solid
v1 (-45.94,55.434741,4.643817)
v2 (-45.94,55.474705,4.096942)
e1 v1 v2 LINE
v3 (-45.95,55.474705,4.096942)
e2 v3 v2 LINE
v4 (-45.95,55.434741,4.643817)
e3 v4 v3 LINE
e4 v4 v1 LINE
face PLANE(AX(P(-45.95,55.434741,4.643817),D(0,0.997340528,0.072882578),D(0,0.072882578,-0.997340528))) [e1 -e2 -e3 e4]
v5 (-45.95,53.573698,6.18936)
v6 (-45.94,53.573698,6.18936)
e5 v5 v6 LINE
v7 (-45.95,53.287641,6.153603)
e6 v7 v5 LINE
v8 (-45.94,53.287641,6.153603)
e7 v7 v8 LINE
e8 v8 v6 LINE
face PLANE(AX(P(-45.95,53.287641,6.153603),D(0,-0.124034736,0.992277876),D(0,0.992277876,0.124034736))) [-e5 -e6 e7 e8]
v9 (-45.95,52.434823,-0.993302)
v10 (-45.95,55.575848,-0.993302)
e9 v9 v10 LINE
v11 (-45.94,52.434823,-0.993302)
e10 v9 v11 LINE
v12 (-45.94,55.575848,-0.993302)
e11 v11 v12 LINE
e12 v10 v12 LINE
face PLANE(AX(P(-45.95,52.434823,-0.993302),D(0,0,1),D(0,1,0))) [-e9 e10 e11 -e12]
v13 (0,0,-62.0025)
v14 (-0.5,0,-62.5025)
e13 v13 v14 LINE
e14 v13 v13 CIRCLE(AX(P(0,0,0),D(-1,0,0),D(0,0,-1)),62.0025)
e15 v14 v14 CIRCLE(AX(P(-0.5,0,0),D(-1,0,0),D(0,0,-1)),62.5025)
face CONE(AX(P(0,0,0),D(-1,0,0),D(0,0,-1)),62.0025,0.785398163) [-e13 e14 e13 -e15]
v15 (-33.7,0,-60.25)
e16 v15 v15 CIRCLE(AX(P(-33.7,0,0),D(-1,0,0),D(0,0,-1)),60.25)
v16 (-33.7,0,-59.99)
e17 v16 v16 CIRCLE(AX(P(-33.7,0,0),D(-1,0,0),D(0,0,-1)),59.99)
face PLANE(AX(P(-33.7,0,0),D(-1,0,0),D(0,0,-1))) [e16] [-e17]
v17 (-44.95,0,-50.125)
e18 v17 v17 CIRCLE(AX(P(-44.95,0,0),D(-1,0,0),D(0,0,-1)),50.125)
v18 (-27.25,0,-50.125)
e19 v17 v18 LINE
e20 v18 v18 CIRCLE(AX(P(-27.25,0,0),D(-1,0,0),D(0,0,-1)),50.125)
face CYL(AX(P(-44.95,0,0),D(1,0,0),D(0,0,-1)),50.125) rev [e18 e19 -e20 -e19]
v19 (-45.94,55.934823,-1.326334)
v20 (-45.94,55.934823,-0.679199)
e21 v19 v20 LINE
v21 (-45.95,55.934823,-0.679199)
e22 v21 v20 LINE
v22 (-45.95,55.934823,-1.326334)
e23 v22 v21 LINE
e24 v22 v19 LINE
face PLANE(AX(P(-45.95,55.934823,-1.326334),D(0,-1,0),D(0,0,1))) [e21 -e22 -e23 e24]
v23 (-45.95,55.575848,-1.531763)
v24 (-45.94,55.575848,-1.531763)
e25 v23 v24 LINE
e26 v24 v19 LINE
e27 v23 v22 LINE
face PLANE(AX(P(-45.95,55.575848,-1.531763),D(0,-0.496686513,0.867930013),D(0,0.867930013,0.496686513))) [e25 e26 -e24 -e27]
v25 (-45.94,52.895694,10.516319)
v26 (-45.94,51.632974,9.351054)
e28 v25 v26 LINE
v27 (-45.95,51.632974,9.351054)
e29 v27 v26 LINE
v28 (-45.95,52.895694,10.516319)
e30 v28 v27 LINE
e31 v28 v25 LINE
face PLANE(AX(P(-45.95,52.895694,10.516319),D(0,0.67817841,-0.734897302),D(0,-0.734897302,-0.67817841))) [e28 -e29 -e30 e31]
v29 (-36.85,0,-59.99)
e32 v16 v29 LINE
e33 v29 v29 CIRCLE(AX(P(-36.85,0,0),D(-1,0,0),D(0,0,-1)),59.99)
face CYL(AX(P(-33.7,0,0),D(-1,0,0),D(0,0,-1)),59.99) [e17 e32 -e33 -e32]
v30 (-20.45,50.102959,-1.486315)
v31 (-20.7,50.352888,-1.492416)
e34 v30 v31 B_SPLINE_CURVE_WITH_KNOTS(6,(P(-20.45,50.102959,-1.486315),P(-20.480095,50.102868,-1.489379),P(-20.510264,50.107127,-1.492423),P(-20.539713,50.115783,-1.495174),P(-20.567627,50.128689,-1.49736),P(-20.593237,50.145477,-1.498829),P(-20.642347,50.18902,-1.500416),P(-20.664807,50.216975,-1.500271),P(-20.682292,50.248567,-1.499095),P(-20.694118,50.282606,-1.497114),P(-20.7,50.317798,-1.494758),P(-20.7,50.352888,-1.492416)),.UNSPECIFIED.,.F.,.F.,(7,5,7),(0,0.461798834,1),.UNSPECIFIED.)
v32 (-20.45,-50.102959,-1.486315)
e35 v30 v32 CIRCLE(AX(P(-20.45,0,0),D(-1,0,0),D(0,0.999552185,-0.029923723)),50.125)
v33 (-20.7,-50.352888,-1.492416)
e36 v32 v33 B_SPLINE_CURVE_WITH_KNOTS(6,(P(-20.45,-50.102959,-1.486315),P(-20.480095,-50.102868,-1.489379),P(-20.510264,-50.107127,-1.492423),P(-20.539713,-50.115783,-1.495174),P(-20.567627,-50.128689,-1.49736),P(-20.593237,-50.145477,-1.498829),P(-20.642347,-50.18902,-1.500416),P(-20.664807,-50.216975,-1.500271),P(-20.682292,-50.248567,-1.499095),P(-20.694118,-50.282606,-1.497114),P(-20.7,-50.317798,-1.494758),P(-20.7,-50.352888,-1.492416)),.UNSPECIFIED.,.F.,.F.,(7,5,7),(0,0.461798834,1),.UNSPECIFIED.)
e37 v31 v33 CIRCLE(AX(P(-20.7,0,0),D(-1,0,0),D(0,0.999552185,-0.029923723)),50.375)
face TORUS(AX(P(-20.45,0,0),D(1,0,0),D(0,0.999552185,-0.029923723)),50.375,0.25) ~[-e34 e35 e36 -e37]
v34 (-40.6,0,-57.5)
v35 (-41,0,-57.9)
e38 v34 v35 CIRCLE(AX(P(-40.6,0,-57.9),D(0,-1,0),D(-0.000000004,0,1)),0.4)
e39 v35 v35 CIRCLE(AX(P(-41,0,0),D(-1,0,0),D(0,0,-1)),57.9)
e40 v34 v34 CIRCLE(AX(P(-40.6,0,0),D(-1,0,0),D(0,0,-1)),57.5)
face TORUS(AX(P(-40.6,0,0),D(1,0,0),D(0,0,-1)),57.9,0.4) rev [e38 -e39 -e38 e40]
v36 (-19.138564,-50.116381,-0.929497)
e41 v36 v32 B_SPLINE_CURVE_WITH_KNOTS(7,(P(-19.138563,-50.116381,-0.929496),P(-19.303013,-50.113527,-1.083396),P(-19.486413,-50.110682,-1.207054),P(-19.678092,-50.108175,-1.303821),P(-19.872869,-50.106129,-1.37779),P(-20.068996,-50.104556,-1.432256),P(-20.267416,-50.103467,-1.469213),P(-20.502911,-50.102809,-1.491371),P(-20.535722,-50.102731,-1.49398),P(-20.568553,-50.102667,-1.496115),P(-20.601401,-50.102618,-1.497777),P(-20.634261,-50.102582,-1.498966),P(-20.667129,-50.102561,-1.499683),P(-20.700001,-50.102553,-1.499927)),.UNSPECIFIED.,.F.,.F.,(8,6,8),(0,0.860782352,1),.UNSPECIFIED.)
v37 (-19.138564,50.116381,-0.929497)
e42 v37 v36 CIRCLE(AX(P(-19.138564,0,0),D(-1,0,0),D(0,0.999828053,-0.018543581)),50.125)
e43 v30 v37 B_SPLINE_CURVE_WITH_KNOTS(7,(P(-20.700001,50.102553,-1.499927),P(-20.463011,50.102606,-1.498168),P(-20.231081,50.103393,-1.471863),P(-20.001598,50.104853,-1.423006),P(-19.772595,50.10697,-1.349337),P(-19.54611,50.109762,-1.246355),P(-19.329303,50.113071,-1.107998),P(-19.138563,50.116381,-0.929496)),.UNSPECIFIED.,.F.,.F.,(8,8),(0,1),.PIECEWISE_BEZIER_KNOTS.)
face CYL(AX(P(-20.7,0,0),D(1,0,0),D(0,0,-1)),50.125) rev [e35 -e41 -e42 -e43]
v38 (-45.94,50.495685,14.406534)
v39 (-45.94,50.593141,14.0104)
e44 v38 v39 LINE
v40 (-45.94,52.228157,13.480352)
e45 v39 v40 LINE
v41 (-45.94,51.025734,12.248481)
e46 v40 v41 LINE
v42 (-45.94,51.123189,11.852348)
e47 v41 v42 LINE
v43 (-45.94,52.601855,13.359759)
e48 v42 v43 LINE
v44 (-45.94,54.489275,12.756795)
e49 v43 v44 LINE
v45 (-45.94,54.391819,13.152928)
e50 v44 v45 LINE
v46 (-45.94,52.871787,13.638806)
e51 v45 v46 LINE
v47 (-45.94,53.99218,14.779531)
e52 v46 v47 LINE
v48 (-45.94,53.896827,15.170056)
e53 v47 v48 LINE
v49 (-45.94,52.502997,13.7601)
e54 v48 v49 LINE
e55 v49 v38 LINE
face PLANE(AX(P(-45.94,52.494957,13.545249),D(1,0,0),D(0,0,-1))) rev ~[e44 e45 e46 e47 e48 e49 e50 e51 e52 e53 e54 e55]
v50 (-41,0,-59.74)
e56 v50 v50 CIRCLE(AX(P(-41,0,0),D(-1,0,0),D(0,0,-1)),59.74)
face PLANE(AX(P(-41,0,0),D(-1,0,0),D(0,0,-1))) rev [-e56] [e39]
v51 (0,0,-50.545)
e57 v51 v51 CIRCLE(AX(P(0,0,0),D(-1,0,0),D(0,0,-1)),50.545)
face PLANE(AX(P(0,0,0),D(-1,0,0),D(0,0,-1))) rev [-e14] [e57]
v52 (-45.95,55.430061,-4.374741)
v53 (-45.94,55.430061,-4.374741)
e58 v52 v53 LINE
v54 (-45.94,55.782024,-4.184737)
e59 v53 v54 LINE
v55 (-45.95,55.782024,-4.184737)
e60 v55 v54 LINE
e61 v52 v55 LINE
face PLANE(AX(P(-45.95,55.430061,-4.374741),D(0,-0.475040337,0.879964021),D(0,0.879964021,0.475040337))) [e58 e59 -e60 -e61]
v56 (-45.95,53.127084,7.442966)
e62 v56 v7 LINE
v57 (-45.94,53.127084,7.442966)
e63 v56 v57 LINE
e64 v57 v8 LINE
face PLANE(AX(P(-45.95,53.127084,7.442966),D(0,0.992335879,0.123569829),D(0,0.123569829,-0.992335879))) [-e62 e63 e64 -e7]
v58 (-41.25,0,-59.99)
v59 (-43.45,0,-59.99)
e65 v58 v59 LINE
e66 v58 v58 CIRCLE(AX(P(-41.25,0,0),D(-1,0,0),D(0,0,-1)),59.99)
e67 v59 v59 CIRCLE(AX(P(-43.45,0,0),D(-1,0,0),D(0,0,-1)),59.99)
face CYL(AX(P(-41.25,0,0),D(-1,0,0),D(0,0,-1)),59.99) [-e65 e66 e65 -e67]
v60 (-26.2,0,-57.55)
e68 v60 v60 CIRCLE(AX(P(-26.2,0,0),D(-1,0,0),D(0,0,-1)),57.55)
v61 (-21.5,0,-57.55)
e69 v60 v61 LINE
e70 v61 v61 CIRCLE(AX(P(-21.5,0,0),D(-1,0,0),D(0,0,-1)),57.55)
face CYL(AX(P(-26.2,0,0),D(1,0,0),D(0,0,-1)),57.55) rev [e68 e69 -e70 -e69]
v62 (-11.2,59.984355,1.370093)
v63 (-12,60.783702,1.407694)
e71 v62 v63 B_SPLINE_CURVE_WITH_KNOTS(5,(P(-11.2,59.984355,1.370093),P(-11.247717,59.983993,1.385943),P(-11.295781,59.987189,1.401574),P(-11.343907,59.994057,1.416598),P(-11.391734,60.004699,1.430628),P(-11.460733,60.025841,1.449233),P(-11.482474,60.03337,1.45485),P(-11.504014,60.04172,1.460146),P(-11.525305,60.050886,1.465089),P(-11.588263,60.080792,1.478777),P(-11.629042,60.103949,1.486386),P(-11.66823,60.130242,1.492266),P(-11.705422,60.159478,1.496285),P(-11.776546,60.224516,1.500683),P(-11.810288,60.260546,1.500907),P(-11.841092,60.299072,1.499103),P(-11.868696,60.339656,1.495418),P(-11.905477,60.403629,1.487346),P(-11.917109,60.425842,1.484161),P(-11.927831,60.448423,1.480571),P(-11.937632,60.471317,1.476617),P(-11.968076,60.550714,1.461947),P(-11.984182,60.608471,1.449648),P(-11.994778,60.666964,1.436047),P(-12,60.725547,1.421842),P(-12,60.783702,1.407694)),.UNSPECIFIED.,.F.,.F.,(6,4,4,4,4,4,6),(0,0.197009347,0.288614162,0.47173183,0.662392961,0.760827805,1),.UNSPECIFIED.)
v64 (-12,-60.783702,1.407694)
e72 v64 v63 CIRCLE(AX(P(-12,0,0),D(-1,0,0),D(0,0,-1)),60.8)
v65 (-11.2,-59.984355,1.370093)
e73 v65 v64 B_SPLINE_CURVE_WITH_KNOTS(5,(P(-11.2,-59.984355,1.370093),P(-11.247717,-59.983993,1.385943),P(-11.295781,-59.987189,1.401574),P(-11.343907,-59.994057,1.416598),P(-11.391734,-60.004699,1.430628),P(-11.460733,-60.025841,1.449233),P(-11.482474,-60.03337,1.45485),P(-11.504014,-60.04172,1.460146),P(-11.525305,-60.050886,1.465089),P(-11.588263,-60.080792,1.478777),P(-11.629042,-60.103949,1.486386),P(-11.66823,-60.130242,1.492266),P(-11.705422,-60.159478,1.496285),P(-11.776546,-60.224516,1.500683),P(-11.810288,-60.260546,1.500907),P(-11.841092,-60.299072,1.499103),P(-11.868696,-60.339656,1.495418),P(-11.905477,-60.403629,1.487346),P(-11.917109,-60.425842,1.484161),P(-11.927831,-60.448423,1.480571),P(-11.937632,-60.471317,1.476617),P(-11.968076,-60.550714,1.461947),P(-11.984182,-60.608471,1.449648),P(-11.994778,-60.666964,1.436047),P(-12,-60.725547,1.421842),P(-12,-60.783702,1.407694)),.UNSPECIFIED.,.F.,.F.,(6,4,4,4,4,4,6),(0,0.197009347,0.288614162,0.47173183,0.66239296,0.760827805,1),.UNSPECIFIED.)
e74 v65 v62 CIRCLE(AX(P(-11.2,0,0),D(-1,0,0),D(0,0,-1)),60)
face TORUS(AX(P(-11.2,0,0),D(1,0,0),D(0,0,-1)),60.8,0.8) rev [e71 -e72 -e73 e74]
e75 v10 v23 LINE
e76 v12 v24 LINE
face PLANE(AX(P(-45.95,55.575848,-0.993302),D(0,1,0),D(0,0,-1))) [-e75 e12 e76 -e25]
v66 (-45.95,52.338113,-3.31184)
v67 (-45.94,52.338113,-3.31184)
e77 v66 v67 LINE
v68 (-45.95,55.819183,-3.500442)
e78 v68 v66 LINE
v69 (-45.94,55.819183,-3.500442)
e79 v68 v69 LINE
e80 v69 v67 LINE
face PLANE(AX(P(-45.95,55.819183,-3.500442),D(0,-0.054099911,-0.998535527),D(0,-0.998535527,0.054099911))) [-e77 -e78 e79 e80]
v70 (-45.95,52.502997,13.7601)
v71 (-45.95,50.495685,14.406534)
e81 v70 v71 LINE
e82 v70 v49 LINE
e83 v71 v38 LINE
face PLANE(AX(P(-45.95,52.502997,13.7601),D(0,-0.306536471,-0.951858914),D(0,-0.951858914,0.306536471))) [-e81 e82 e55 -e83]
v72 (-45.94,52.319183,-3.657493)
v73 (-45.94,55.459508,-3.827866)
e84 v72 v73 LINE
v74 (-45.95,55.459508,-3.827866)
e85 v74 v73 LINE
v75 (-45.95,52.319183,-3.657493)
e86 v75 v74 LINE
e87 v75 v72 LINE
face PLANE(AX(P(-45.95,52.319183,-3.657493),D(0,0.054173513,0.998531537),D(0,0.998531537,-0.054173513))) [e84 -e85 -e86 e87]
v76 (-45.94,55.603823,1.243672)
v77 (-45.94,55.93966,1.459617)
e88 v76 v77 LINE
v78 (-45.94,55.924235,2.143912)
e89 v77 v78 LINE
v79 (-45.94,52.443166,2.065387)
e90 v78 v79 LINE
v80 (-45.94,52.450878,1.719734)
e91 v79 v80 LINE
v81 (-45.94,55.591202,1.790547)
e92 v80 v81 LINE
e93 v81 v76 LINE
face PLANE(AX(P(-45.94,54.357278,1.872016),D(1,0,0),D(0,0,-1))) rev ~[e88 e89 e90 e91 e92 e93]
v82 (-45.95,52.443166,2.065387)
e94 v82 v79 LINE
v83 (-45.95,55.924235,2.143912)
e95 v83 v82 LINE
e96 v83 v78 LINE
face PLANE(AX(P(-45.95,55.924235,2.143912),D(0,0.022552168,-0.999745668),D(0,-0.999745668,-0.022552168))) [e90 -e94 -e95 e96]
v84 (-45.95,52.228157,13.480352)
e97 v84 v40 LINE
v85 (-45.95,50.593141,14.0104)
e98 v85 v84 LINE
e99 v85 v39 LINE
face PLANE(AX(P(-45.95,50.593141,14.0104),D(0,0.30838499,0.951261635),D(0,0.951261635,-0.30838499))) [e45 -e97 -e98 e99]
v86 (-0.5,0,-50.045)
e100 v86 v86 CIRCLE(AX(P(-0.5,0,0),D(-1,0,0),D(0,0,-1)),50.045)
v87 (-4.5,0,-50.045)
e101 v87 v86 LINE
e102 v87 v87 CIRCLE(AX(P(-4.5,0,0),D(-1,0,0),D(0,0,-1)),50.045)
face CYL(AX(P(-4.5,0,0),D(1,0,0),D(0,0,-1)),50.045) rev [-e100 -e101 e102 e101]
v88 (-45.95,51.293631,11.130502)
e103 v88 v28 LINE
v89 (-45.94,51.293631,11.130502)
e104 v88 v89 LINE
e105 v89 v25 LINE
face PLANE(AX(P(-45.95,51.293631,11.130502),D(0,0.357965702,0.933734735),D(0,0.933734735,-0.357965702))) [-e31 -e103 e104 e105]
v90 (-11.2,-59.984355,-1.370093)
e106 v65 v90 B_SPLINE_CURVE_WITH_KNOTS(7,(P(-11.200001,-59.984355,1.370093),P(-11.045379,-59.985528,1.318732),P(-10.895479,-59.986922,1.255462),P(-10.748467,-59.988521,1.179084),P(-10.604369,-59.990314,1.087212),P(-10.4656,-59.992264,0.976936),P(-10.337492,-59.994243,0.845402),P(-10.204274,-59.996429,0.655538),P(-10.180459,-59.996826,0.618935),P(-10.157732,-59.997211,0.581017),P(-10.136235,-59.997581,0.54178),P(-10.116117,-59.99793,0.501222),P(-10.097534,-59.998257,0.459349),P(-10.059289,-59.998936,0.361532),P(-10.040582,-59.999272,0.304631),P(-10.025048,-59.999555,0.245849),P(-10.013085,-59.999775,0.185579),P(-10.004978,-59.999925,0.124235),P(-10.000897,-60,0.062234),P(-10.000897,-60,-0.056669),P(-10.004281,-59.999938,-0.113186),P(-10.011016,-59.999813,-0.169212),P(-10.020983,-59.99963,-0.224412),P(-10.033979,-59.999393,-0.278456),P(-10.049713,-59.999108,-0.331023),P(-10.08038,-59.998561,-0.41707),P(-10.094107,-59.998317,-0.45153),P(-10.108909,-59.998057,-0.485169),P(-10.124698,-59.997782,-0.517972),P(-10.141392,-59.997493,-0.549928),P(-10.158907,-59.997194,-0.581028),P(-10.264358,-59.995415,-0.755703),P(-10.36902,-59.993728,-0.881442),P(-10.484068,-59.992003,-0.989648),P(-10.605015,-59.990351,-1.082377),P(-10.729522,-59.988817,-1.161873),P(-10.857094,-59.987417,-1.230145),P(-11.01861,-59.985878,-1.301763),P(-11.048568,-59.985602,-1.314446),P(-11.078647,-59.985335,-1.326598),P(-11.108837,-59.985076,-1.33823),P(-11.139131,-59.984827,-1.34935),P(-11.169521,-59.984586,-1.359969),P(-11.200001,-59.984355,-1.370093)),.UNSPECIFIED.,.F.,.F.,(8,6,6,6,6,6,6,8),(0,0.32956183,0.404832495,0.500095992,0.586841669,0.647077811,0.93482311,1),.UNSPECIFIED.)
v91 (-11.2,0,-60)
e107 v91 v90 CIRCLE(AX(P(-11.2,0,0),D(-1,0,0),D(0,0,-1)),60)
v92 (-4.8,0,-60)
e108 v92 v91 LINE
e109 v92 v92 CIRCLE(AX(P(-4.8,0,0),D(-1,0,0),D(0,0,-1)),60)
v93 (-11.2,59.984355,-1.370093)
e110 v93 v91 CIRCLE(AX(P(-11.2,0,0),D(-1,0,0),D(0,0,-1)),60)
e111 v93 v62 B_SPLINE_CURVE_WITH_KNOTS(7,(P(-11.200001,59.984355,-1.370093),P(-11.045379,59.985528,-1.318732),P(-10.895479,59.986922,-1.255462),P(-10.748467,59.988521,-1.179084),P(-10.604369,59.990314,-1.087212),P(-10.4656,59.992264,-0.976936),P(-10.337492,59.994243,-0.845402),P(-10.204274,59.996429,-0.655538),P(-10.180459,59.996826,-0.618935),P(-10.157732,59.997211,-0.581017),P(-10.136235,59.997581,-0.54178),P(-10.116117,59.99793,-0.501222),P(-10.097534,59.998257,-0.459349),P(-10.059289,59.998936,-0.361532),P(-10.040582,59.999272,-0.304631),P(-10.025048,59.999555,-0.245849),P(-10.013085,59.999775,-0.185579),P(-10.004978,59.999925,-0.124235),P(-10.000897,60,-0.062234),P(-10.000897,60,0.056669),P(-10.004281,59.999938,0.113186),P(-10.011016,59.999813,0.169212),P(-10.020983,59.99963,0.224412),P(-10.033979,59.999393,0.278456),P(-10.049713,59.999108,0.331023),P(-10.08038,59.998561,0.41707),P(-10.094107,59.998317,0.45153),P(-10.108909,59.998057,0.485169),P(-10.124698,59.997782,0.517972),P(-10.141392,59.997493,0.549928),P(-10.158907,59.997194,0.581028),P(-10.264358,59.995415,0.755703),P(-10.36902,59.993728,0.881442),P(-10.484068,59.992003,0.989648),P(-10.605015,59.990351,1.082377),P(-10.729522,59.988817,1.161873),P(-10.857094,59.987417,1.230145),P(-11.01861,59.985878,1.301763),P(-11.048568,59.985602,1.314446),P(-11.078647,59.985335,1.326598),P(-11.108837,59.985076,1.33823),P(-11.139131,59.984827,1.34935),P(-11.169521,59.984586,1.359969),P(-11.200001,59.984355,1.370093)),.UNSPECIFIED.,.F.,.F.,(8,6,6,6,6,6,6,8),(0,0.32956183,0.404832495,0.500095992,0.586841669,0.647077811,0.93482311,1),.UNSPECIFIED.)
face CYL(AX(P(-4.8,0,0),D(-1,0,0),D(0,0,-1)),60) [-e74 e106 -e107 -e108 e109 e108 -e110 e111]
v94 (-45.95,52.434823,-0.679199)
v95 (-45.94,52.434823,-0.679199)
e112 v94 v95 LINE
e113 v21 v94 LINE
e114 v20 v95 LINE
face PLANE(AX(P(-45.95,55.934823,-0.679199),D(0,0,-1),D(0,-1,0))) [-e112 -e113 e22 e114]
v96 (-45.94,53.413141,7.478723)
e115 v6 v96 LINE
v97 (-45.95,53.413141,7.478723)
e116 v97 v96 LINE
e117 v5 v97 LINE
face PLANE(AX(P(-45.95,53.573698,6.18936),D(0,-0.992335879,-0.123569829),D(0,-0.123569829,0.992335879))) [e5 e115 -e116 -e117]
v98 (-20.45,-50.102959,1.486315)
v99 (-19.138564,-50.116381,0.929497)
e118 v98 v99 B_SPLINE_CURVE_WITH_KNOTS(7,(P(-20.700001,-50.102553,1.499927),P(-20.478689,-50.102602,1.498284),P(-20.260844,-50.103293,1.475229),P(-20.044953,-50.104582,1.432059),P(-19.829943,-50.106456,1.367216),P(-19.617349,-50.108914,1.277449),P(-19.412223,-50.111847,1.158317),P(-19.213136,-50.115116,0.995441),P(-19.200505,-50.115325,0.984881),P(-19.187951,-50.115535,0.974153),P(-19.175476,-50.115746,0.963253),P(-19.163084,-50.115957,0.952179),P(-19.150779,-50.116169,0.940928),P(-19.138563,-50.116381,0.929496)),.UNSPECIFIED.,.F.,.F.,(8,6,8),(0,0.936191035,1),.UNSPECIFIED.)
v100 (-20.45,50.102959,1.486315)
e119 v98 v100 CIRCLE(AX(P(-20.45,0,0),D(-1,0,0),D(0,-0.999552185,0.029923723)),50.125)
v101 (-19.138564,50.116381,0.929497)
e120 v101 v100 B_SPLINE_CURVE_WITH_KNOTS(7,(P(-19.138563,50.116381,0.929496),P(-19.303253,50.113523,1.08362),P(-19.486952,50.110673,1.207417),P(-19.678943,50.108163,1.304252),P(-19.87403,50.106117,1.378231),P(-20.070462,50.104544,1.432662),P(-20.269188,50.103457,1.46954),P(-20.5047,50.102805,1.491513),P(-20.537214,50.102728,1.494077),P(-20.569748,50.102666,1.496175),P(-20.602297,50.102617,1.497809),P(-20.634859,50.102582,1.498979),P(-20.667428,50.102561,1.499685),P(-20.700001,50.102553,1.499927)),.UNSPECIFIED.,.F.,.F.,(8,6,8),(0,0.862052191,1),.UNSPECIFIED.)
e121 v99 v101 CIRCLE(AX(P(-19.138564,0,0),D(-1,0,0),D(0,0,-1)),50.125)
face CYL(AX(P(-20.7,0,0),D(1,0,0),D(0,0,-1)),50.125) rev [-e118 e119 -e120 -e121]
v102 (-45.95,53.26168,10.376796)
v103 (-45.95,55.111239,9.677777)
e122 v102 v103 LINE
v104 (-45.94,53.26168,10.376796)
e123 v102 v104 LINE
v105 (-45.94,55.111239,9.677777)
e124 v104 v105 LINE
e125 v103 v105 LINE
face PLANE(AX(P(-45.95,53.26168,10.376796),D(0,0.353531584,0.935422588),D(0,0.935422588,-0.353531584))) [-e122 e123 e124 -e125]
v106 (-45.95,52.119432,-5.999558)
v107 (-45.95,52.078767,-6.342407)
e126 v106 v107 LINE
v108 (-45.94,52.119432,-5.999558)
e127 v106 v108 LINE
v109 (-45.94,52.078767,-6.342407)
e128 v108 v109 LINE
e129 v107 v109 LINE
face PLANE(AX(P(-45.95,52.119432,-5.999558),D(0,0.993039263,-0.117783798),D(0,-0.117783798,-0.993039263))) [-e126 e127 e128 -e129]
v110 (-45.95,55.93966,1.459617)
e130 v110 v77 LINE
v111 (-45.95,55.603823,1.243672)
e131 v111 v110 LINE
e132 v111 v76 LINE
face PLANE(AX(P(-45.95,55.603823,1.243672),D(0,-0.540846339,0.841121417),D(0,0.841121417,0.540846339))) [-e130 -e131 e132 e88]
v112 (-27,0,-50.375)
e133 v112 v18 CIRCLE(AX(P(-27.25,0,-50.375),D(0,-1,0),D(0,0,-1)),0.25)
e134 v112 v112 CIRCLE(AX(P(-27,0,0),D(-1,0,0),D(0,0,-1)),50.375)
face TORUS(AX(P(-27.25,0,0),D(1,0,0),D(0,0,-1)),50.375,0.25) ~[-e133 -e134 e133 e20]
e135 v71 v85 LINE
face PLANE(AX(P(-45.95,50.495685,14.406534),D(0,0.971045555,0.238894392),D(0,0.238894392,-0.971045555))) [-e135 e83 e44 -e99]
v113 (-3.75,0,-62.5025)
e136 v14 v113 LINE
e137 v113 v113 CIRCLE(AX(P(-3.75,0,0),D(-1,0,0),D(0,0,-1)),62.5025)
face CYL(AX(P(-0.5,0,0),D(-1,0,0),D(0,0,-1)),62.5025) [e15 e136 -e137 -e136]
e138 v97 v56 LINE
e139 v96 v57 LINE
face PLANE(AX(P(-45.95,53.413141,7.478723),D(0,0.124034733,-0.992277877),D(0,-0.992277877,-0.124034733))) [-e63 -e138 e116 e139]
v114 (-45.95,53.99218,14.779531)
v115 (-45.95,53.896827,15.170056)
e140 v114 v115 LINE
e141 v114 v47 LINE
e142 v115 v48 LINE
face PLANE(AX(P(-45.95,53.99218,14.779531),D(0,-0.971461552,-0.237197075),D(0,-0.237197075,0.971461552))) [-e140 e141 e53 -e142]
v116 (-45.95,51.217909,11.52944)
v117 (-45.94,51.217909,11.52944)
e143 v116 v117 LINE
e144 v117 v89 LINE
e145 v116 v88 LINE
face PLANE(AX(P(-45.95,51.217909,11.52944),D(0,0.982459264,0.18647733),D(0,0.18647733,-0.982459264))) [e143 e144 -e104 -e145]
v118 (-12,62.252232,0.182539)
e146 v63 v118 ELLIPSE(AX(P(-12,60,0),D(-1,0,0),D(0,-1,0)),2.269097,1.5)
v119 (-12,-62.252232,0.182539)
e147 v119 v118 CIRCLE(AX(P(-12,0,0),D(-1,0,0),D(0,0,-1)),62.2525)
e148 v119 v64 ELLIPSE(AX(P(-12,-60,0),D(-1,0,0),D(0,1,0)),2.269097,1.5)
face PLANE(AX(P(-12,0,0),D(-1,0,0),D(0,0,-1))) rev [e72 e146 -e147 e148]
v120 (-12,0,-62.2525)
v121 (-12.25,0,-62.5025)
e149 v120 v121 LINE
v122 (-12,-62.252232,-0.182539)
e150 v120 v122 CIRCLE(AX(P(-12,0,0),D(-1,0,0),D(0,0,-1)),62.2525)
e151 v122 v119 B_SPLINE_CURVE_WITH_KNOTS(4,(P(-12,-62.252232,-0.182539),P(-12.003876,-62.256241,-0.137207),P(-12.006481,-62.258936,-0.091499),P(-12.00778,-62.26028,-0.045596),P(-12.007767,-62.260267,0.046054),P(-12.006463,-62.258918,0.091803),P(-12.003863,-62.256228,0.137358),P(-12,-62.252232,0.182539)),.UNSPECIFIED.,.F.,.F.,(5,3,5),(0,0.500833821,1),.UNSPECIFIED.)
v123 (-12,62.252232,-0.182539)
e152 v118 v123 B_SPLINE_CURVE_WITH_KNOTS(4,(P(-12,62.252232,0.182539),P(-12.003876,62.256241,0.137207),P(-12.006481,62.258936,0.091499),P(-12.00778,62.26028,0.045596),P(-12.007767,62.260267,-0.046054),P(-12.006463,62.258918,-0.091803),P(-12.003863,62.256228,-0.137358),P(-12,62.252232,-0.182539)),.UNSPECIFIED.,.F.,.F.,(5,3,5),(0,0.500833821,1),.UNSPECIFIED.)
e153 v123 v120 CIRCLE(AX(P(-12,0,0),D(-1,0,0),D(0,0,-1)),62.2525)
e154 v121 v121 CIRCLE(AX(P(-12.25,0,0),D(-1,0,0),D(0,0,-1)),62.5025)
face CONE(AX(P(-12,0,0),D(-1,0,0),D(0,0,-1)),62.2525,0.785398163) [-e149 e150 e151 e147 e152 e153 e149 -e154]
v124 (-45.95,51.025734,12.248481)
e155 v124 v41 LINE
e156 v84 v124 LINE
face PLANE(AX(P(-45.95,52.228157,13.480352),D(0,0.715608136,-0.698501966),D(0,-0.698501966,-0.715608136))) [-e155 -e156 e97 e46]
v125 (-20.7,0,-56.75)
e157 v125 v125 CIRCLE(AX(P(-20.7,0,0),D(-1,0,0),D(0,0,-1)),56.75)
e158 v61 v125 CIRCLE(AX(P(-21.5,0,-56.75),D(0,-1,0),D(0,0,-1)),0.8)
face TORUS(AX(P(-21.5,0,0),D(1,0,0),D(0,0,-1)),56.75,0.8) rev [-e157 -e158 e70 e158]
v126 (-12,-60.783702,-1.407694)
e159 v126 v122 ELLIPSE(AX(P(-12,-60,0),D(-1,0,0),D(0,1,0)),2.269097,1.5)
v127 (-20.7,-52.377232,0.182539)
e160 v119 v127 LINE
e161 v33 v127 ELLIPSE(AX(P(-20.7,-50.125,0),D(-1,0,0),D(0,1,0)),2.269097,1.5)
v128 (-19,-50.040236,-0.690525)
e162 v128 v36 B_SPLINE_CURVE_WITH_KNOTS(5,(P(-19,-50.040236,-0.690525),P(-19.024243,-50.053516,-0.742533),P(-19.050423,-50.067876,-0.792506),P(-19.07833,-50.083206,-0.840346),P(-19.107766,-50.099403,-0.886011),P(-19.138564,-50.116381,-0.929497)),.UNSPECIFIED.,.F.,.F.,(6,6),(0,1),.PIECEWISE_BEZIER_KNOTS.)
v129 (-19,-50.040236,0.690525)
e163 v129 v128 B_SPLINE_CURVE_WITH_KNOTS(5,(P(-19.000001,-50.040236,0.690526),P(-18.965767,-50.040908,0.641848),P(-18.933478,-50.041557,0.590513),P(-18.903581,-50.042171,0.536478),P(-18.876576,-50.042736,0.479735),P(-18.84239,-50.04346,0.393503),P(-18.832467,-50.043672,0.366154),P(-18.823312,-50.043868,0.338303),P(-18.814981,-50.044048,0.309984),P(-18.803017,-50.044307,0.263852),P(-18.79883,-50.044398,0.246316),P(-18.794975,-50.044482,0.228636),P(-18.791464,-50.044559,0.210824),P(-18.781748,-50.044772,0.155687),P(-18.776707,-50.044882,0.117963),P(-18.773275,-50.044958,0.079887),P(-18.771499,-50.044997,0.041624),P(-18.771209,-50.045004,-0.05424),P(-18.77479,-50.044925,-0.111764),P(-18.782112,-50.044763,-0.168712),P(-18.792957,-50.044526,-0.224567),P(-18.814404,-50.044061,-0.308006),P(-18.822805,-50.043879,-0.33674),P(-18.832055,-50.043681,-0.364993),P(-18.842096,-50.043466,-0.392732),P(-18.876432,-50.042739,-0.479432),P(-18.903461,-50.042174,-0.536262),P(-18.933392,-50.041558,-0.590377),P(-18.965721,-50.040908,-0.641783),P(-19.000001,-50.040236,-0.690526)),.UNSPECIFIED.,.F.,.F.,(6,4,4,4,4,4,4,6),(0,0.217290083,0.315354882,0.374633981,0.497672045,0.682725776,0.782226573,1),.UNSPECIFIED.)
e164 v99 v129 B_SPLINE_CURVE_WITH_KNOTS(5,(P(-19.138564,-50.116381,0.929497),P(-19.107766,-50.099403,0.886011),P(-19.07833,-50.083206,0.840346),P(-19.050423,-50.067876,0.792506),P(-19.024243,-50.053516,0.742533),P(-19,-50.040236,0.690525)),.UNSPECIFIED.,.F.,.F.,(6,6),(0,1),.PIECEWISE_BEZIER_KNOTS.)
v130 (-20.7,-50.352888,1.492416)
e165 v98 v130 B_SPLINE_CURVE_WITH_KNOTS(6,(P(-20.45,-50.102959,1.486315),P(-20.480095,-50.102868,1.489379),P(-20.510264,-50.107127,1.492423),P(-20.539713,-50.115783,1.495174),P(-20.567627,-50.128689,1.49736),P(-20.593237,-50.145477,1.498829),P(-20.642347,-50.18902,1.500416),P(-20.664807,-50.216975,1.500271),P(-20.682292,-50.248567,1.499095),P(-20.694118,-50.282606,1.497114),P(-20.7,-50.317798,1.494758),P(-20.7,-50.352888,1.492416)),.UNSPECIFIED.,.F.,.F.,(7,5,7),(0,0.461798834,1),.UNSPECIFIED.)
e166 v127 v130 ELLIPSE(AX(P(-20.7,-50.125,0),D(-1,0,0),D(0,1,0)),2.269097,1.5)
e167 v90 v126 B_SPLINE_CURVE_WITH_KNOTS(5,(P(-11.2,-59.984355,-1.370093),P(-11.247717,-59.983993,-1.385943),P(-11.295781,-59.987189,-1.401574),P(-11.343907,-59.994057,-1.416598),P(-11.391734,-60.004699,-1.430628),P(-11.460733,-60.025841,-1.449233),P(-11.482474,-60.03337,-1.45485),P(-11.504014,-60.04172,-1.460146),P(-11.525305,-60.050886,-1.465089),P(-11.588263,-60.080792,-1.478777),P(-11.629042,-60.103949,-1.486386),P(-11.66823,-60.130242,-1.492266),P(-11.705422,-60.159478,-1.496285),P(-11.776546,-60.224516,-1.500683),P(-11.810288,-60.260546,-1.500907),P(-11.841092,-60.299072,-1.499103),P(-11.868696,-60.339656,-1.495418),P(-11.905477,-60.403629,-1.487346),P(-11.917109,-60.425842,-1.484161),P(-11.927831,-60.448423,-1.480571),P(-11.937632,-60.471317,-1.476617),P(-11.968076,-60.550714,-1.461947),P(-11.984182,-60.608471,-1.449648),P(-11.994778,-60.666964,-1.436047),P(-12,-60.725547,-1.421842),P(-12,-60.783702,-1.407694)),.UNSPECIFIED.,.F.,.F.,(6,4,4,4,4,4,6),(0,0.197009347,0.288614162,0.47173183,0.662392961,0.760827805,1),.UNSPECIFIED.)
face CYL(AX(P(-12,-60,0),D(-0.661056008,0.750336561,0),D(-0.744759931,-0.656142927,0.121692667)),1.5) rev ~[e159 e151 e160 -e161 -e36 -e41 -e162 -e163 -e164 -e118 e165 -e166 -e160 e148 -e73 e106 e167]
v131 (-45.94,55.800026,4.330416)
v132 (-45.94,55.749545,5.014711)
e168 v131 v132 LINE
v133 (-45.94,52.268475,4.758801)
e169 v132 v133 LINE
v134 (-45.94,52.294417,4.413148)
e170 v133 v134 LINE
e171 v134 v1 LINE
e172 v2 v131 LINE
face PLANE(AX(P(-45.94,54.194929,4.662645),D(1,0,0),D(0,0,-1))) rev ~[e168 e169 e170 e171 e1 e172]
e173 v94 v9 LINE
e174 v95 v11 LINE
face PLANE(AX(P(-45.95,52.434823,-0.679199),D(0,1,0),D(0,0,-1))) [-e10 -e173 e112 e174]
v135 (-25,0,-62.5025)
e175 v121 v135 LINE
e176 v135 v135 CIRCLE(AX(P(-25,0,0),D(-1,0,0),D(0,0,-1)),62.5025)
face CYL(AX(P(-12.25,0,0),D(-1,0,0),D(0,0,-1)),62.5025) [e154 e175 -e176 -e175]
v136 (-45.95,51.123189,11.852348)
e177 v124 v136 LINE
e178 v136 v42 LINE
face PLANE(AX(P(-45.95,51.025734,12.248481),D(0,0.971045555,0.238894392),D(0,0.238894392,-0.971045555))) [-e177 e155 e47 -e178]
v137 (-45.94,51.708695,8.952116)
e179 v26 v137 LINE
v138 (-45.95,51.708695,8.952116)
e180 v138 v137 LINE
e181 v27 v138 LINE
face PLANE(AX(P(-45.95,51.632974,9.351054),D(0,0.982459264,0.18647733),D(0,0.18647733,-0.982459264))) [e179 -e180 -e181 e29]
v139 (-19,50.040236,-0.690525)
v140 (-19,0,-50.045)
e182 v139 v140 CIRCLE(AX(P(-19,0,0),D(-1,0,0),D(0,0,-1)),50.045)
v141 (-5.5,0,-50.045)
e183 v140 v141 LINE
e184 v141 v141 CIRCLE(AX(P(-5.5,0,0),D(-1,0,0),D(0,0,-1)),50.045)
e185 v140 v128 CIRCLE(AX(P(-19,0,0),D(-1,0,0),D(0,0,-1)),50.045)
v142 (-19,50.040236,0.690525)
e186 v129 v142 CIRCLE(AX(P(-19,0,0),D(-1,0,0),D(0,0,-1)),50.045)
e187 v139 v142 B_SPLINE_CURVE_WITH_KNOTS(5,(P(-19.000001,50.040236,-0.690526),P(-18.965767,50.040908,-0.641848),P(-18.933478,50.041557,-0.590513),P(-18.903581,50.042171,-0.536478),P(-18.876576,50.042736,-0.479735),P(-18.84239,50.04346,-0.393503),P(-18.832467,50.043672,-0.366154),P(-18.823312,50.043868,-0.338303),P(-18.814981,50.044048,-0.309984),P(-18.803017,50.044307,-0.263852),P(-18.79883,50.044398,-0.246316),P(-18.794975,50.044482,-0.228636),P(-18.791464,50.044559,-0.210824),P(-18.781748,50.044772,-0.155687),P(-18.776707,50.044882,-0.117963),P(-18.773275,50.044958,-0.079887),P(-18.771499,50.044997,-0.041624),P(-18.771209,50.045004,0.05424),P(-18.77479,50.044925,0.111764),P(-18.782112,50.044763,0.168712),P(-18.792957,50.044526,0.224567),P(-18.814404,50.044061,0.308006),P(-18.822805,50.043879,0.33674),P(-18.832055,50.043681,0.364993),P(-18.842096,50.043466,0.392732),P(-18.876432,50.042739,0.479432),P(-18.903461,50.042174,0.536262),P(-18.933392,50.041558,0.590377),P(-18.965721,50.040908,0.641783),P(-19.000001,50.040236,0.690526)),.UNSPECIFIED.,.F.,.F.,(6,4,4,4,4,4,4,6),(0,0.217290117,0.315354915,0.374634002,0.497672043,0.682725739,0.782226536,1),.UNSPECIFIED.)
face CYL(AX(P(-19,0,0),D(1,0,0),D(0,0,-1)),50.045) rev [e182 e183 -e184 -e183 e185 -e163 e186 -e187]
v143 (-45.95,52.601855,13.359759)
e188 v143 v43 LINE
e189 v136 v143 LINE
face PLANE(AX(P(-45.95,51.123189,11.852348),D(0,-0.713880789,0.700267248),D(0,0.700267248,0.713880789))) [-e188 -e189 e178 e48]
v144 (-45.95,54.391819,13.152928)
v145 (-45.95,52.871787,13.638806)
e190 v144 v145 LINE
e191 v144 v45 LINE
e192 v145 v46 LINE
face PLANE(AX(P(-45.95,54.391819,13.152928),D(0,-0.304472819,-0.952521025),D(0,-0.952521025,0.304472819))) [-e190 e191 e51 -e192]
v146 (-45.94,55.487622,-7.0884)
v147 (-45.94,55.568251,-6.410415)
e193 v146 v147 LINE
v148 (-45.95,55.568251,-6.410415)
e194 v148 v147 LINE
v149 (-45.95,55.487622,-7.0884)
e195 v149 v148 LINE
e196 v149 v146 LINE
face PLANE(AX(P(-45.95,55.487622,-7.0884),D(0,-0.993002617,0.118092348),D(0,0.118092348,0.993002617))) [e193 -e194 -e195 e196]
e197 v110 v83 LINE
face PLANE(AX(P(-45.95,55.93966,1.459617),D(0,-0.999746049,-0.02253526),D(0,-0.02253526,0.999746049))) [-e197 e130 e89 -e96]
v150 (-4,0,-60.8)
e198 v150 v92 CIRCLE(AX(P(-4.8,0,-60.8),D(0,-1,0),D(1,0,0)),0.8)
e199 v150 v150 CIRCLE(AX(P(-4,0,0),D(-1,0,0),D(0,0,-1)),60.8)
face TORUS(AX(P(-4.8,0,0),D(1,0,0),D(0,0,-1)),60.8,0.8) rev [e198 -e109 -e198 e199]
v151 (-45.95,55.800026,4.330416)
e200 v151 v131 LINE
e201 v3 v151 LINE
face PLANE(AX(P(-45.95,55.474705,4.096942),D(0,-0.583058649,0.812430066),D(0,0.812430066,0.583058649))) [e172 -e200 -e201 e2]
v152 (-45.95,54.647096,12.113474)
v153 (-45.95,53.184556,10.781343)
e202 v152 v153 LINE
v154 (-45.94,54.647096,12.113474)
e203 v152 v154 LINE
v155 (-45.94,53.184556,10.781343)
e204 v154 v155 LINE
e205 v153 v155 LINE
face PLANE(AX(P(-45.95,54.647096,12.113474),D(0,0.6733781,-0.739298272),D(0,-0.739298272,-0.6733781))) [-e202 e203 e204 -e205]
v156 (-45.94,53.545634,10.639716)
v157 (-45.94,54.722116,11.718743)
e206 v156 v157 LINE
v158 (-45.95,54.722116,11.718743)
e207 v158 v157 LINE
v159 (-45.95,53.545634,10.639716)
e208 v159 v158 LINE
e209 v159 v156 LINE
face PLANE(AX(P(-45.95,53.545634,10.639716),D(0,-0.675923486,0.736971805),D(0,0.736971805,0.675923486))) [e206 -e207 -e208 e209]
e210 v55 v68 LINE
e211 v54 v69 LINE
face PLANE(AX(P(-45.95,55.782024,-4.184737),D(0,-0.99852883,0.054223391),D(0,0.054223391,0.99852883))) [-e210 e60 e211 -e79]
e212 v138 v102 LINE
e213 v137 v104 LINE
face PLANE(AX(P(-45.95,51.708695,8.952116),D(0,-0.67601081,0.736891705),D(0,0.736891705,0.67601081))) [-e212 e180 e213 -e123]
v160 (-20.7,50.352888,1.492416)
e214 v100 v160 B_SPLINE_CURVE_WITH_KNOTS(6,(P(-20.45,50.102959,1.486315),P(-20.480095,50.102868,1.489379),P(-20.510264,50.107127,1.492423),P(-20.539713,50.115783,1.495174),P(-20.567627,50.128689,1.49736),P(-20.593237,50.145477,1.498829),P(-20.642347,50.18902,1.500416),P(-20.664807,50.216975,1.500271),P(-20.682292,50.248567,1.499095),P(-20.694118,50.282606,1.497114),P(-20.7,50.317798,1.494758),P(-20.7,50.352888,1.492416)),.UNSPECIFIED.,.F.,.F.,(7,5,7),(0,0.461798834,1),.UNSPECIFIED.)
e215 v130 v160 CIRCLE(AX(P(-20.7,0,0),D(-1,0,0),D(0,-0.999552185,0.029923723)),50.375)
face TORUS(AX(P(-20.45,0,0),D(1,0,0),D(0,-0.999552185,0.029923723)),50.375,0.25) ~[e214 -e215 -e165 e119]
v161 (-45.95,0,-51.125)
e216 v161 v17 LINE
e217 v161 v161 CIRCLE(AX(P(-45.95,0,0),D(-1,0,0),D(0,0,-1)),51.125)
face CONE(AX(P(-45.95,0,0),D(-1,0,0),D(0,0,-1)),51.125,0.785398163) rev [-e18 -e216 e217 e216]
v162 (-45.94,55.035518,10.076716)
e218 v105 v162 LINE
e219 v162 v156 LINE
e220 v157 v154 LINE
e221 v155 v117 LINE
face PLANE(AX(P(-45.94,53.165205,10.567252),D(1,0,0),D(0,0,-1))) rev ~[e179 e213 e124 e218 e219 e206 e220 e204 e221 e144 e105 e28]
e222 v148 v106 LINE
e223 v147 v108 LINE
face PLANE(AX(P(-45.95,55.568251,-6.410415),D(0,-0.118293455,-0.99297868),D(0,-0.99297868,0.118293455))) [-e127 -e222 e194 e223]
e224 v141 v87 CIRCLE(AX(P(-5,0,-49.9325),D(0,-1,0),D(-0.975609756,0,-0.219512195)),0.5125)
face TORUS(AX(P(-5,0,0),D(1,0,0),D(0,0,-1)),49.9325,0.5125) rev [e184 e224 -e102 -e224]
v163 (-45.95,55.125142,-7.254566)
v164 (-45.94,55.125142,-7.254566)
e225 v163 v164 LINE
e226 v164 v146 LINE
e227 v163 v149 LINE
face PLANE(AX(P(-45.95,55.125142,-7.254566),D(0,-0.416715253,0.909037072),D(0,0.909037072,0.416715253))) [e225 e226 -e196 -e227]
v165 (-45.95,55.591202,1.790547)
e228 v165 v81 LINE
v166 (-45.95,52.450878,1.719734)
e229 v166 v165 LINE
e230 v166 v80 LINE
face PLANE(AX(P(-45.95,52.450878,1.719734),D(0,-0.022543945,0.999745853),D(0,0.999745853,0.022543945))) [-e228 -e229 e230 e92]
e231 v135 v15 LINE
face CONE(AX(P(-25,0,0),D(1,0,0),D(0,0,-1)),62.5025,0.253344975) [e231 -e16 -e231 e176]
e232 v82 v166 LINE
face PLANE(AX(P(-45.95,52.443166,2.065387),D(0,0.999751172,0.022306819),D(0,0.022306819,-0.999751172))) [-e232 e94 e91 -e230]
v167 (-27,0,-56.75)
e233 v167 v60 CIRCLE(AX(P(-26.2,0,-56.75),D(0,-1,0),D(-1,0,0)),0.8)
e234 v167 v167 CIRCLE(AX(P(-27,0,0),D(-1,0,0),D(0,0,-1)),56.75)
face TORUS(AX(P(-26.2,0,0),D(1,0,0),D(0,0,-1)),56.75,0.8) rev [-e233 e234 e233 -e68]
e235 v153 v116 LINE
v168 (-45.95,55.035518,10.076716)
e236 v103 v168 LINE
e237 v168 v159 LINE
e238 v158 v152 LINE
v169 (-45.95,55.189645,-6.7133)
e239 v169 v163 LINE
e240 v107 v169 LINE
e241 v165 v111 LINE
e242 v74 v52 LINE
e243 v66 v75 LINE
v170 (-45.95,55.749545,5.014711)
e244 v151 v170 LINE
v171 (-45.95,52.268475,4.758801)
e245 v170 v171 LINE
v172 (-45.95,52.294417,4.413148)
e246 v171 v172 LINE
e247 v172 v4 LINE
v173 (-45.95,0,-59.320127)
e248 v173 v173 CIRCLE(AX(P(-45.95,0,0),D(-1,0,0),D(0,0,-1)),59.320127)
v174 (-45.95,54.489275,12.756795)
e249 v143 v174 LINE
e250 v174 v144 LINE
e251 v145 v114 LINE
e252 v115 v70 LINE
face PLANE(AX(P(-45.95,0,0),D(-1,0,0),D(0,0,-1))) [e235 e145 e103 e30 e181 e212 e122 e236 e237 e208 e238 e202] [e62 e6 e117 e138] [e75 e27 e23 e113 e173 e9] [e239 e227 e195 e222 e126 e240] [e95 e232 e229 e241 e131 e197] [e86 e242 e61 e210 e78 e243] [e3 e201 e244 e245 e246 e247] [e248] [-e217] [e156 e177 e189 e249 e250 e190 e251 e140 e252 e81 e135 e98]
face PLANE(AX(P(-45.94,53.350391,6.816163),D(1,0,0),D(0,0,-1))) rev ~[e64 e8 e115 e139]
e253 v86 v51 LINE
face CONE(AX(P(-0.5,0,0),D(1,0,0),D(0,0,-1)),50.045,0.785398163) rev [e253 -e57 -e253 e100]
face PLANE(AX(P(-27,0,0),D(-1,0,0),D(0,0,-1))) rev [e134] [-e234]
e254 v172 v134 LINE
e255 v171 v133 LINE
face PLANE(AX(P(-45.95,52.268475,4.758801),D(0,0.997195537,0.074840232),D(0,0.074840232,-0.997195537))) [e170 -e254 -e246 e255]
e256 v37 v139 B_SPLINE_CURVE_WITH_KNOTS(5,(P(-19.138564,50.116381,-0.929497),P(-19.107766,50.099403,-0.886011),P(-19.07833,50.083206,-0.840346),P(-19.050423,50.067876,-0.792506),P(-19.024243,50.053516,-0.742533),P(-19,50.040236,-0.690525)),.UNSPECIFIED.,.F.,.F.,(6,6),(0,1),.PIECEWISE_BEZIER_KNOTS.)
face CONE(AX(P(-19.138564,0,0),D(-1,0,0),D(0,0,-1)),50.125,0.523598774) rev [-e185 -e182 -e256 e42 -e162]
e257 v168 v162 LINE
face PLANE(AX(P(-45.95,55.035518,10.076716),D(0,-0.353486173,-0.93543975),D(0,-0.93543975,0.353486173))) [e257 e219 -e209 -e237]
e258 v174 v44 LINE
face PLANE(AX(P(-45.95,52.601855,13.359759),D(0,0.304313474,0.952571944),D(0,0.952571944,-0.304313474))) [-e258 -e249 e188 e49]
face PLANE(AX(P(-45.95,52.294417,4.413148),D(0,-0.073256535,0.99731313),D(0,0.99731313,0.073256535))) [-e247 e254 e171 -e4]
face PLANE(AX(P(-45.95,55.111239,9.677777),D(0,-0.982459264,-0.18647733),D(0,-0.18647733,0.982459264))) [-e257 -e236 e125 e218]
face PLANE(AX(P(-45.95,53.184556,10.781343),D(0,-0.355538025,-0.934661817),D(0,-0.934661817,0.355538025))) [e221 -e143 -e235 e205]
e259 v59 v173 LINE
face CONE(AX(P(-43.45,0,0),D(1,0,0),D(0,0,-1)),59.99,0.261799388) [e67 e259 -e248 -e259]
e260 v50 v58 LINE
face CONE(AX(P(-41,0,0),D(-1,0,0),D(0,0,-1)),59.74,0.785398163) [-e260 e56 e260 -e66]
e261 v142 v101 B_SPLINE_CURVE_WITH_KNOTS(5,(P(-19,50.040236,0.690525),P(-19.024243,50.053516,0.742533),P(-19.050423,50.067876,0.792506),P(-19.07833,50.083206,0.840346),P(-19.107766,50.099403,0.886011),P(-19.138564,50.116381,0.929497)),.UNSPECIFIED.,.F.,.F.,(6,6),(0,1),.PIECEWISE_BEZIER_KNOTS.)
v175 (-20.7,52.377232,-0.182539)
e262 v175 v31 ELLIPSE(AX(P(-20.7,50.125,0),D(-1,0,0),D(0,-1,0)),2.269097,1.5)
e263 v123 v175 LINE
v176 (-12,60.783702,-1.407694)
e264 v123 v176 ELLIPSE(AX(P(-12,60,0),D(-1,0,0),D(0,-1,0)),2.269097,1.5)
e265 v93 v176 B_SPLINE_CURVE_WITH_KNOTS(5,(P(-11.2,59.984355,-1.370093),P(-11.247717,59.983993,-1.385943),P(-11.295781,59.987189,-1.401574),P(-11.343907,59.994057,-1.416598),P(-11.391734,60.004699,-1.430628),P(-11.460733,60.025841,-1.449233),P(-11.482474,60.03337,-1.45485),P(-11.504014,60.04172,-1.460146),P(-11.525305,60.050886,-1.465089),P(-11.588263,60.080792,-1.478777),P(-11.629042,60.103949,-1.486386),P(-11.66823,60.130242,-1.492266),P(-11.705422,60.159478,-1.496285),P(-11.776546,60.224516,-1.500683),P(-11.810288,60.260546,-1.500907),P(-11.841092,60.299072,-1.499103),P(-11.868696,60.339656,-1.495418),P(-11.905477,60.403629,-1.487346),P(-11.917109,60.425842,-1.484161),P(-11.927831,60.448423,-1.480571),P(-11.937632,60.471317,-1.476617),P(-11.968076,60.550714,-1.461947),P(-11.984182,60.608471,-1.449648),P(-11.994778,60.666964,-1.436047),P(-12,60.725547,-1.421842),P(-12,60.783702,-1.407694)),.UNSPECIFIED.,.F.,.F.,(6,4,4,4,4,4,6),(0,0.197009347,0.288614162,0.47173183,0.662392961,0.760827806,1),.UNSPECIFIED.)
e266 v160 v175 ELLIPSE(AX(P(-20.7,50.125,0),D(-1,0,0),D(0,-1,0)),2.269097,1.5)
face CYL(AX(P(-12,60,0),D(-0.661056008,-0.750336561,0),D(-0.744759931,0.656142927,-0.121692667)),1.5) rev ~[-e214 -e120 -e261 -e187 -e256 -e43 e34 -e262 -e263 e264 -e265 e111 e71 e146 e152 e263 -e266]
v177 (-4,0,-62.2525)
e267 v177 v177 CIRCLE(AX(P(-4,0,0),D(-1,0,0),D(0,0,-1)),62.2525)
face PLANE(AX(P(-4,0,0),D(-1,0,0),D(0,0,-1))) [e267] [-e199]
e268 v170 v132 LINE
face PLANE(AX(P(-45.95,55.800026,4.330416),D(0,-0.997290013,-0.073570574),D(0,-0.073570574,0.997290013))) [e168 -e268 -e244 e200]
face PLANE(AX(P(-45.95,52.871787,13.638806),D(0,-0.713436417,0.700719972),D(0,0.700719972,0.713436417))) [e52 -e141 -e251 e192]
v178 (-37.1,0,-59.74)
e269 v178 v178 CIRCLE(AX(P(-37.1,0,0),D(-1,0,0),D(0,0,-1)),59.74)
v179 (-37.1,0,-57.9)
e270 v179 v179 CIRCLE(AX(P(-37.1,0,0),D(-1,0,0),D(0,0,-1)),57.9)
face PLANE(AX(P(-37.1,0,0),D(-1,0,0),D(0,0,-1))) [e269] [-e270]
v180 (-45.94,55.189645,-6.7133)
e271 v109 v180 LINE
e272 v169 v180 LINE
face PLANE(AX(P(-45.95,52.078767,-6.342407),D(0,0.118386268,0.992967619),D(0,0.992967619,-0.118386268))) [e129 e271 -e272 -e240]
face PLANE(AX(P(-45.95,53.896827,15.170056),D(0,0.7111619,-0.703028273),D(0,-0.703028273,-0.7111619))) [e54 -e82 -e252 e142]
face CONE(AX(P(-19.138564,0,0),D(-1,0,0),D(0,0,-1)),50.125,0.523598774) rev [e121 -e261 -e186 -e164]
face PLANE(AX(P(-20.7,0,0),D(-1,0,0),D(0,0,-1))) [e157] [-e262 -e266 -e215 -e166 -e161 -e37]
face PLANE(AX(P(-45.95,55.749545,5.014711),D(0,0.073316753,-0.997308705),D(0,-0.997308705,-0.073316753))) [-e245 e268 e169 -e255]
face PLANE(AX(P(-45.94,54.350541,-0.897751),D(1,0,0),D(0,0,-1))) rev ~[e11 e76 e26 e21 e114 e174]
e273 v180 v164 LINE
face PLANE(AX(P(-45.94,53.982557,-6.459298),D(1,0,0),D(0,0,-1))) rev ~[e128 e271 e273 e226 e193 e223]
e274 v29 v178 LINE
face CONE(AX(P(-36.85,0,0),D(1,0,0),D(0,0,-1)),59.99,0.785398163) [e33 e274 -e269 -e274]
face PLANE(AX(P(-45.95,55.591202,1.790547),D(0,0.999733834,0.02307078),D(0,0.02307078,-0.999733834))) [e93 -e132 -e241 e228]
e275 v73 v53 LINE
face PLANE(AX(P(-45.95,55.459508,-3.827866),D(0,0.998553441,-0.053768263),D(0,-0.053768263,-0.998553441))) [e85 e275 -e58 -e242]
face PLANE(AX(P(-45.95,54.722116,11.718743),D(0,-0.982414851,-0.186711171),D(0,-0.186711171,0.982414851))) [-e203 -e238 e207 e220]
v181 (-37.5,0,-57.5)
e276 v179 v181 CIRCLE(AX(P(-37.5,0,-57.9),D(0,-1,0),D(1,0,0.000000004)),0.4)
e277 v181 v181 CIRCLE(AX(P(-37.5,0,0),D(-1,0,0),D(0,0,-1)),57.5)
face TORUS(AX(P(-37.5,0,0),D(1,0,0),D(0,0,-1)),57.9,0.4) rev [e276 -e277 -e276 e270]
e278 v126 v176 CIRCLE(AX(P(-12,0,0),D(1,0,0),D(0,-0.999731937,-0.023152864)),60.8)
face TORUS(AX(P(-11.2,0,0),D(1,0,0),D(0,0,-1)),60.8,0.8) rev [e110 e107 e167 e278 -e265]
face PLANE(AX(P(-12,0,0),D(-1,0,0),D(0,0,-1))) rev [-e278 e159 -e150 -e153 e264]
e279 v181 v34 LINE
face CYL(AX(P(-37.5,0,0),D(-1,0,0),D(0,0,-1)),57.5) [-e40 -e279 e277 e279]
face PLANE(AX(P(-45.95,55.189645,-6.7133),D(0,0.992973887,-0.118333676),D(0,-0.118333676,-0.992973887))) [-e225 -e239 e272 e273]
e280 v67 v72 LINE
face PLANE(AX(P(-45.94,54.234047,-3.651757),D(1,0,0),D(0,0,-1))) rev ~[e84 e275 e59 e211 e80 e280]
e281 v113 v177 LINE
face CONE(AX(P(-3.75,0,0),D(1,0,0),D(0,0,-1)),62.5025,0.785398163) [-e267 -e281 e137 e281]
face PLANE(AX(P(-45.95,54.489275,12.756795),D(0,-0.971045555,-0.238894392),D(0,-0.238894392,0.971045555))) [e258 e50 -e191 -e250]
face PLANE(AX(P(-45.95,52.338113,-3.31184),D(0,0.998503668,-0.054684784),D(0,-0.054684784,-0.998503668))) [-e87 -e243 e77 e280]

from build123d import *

# Parameters (mm, degrees)
SKETCH2_R          = 1.5
CUT_EXTRUDE1_DEPTH = 142.654606394
CIRPATTERN1_COUNT  = 2
FILLET1_R          = 0.25
CUT_EXTRUDE2_DEPTH = 0.01


with BuildPart() as part:
    # Sketch1 → Revolve1 (revolve)
    with BuildSketch(Plane.XY, mode=Mode.PRIVATE) as revolve1_sk:
        with BuildLine():
            Line((0, 50.545), (0, 62.0025))
            Line((0, 62.0025), (-0.5, 62.5025))
            Line((-0.5, 62.5025), (-3.75, 62.5025))
            Line((-3.75, 62.5025), (-4, 62.2525))
            Line((-4, 62.2525), (-4, 60.8))
            ThreePointArc((-4, 60.8), (-4.234314575, 60.234314575), (-4.8, 60))
            Line((-4.8, 60), (-11.2, 60))
            ThreePointArc((-11.2, 60), (-11.765685425, 60.234314575), (-12, 60.8))
            Line((-12, 60.8), (-12, 62.2525))
            Line((-12, 62.2525), (-12.25, 62.5025))
            Line((-12.25, 62.5025), (-25, 62.5025))
            Line((-25, 62.5025), (-33.7, 60.25))
            Line((-33.7, 60.25), (-33.7, 59.99))
            Line((-33.7, 59.99), (-36.85, 59.99))
            Line((-36.85, 59.99), (-37.1, 59.74))
            Line((-37.1, 59.74), (-37.1, 57.9))
            ThreePointArc((-37.1, 57.9), (-37.217157288, 57.617157288), (-37.5, 57.5))
            Line((-37.5, 57.5), (-40.6, 57.5))
            ThreePointArc((-40.6, 57.5), (-40.882842712, 57.617157288), (-41, 57.9))
            Line((-41, 57.9), (-41, 59.74))
            Line((-41, 59.74), (-41.25, 59.99))
            Line((-41.25, 59.99), (-43.45, 59.99))
            Line((-43.45, 59.99), (-45.95, 59.320127019))
            Line((-45.95, 59.320127019), (-45.95, 51.125))
            Line((-45.95, 51.125), (-44.95, 50.125))
            Line((-44.95, 50.125), (-27, 50.125))
            Line((-27, 50.125), (-27, 56.75))
            ThreePointArc((-27, 56.75), (-26.765685425, 57.315685425), (-26.2, 57.55))
            Line((-26.2, 57.55), (-21.5, 57.55))
            ThreePointArc((-21.5, 57.55), (-20.934314575, 57.315685425), (-20.7, 56.75))
            Line((-20.7, 56.75), (-20.7, 50.125))
            Line((-20.7, 50.125), (-19.138564065, 50.125))
            Line((-19.138564065, 50.125), (-19, 50.045))
            Line((-19, 50.045), (-5.5, 50.045))
            ThreePointArc((-5.5, 50.045), (-5, 50.445), (-4.5, 50.045))
            Line((-4.5, 50.045), (-0.5, 50.045))
            Line((-0.5, 50.045), (0, 50.545))
        make_face()
    revolve(revolve1_sk.sketch.rotate(Axis((0, 0, 0), (-1, 0, 0)), 90), axis=Axis((0, 0, 0), (-1, 0, 0)))

    # Sketch2 → Cut-Extrude1 (cut, symmetric)
    with BuildSketch(Plane(origin=(-12, 60, 0), x_dir=(0.7503365607322025, -0.6610560079362185, 0), z_dir=(-0.6610560079362185, -0.7503365607322025, 0))):
        with Locations(Location((0, 0, 0), (0, 0, 186.989801262))):
            Circle(SKETCH2_R)
    cut_extrude1 = extrude(amount=CUT_EXTRUDE1_DEPTH, both=True, mode=Mode.SUBTRACT)

    # CirPattern1: Cut-Extrude1 ×2 about axis
    cirpattern1_axis = Axis((-44.95, 0, 0), (1, 0, 0))
    for i in range(1, CIRPATTERN1_COUNT):
        add(cut_extrude1.rotate(cirpattern1_axis, i * 360 / CIRPATTERN1_COUNT), mode=Mode.SUBTRACT)

    # Fillet1
    fillet1_edges = [part.edges().sort_by_distance(p)[0] for p in [
        (-27, 0, 50.125),
        (-20.7, 0, 50.125),
        (-20.7, 0, -50.125),
    ]]
    fillet(fillet1_edges, radius=FILLET1_R)

    # Sketch3 → Cut-Extrude2 (cut)
    with BuildSketch(Plane.ZY.offset(45.95)):
        Polygon((-7.088400188, 55.487621534), (-6.410415412, 55.56825054), (-5.99955804, 52.119432431), (-6.342406598, 52.078767367), (-6.713300028, 55.189644771), (-7.254566053, 55.125141566), align=None)
        Polygon((-4.184736873, 55.782023718), (-3.500442001, 55.819183174), (-3.311840238, 52.338113462), (-3.657493283, 52.319183174), (-3.827865879, 55.459507693), (-4.374740879, 55.430060577), align=None)
        Polygon((-1.326334379, 55.93482257), (-0.679198963, 55.93482257), (-0.679198963, 52.43482257), (-0.993301527, 52.43482257), (-0.993301527, 55.575848212), (-1.531763065, 55.575848212), align=None)
        Polygon((1.459617342, 55.939659956), (2.143912214, 55.924235276), (2.065386573, 52.443165565), (1.719733528, 52.450877904), (1.790546829, 55.591202424), (1.243671829, 55.603822616), align=None)
        Polygon((4.330415968, 55.800025665), (5.014710839, 55.749544896), (4.758801384, 52.268475185), (4.413148339, 52.294416691), (4.64381741, 55.43474121), (4.09694241, 55.474705153), align=None)
        Polygon((6.189360449, 53.573698337), (7.478723429, 53.413141446), (7.442966218, 53.127083754), (6.153603237, 53.287640645), align=None)
        Polygon((9.67777724, 55.111238801), (10.076715541, 55.035517647), (10.639716342, 53.545633833), (11.718742785, 54.722116205), (12.113474355, 54.647096173), (10.781342945, 53.184556109), (11.5294399, 51.217909474), (11.130501599, 51.293630628), (10.516318906, 52.895693929), (9.351054483, 51.632973577), (8.952116182, 51.708694731), (10.376795669, 53.261679506), align=None)
        Polygon((12.756794683, 54.489275176), (13.152928497, 54.391819247), (13.638805901, 52.871787196), (14.779531061, 53.992179824), (15.170055901, 53.89682726), (13.760099972, 52.502997132), (14.406534266, 50.495685433), (14.010400452, 50.593141362), (13.480352375, 52.228157388), (12.248481382, 51.02573351), (11.852347568, 51.123189439), (13.359759427, 52.601855305), align=None)
    extrude(amount=-CUT_EXTRUDE2_DEPTH, mode=Mode.SUBTRACT)


solid = part.part
